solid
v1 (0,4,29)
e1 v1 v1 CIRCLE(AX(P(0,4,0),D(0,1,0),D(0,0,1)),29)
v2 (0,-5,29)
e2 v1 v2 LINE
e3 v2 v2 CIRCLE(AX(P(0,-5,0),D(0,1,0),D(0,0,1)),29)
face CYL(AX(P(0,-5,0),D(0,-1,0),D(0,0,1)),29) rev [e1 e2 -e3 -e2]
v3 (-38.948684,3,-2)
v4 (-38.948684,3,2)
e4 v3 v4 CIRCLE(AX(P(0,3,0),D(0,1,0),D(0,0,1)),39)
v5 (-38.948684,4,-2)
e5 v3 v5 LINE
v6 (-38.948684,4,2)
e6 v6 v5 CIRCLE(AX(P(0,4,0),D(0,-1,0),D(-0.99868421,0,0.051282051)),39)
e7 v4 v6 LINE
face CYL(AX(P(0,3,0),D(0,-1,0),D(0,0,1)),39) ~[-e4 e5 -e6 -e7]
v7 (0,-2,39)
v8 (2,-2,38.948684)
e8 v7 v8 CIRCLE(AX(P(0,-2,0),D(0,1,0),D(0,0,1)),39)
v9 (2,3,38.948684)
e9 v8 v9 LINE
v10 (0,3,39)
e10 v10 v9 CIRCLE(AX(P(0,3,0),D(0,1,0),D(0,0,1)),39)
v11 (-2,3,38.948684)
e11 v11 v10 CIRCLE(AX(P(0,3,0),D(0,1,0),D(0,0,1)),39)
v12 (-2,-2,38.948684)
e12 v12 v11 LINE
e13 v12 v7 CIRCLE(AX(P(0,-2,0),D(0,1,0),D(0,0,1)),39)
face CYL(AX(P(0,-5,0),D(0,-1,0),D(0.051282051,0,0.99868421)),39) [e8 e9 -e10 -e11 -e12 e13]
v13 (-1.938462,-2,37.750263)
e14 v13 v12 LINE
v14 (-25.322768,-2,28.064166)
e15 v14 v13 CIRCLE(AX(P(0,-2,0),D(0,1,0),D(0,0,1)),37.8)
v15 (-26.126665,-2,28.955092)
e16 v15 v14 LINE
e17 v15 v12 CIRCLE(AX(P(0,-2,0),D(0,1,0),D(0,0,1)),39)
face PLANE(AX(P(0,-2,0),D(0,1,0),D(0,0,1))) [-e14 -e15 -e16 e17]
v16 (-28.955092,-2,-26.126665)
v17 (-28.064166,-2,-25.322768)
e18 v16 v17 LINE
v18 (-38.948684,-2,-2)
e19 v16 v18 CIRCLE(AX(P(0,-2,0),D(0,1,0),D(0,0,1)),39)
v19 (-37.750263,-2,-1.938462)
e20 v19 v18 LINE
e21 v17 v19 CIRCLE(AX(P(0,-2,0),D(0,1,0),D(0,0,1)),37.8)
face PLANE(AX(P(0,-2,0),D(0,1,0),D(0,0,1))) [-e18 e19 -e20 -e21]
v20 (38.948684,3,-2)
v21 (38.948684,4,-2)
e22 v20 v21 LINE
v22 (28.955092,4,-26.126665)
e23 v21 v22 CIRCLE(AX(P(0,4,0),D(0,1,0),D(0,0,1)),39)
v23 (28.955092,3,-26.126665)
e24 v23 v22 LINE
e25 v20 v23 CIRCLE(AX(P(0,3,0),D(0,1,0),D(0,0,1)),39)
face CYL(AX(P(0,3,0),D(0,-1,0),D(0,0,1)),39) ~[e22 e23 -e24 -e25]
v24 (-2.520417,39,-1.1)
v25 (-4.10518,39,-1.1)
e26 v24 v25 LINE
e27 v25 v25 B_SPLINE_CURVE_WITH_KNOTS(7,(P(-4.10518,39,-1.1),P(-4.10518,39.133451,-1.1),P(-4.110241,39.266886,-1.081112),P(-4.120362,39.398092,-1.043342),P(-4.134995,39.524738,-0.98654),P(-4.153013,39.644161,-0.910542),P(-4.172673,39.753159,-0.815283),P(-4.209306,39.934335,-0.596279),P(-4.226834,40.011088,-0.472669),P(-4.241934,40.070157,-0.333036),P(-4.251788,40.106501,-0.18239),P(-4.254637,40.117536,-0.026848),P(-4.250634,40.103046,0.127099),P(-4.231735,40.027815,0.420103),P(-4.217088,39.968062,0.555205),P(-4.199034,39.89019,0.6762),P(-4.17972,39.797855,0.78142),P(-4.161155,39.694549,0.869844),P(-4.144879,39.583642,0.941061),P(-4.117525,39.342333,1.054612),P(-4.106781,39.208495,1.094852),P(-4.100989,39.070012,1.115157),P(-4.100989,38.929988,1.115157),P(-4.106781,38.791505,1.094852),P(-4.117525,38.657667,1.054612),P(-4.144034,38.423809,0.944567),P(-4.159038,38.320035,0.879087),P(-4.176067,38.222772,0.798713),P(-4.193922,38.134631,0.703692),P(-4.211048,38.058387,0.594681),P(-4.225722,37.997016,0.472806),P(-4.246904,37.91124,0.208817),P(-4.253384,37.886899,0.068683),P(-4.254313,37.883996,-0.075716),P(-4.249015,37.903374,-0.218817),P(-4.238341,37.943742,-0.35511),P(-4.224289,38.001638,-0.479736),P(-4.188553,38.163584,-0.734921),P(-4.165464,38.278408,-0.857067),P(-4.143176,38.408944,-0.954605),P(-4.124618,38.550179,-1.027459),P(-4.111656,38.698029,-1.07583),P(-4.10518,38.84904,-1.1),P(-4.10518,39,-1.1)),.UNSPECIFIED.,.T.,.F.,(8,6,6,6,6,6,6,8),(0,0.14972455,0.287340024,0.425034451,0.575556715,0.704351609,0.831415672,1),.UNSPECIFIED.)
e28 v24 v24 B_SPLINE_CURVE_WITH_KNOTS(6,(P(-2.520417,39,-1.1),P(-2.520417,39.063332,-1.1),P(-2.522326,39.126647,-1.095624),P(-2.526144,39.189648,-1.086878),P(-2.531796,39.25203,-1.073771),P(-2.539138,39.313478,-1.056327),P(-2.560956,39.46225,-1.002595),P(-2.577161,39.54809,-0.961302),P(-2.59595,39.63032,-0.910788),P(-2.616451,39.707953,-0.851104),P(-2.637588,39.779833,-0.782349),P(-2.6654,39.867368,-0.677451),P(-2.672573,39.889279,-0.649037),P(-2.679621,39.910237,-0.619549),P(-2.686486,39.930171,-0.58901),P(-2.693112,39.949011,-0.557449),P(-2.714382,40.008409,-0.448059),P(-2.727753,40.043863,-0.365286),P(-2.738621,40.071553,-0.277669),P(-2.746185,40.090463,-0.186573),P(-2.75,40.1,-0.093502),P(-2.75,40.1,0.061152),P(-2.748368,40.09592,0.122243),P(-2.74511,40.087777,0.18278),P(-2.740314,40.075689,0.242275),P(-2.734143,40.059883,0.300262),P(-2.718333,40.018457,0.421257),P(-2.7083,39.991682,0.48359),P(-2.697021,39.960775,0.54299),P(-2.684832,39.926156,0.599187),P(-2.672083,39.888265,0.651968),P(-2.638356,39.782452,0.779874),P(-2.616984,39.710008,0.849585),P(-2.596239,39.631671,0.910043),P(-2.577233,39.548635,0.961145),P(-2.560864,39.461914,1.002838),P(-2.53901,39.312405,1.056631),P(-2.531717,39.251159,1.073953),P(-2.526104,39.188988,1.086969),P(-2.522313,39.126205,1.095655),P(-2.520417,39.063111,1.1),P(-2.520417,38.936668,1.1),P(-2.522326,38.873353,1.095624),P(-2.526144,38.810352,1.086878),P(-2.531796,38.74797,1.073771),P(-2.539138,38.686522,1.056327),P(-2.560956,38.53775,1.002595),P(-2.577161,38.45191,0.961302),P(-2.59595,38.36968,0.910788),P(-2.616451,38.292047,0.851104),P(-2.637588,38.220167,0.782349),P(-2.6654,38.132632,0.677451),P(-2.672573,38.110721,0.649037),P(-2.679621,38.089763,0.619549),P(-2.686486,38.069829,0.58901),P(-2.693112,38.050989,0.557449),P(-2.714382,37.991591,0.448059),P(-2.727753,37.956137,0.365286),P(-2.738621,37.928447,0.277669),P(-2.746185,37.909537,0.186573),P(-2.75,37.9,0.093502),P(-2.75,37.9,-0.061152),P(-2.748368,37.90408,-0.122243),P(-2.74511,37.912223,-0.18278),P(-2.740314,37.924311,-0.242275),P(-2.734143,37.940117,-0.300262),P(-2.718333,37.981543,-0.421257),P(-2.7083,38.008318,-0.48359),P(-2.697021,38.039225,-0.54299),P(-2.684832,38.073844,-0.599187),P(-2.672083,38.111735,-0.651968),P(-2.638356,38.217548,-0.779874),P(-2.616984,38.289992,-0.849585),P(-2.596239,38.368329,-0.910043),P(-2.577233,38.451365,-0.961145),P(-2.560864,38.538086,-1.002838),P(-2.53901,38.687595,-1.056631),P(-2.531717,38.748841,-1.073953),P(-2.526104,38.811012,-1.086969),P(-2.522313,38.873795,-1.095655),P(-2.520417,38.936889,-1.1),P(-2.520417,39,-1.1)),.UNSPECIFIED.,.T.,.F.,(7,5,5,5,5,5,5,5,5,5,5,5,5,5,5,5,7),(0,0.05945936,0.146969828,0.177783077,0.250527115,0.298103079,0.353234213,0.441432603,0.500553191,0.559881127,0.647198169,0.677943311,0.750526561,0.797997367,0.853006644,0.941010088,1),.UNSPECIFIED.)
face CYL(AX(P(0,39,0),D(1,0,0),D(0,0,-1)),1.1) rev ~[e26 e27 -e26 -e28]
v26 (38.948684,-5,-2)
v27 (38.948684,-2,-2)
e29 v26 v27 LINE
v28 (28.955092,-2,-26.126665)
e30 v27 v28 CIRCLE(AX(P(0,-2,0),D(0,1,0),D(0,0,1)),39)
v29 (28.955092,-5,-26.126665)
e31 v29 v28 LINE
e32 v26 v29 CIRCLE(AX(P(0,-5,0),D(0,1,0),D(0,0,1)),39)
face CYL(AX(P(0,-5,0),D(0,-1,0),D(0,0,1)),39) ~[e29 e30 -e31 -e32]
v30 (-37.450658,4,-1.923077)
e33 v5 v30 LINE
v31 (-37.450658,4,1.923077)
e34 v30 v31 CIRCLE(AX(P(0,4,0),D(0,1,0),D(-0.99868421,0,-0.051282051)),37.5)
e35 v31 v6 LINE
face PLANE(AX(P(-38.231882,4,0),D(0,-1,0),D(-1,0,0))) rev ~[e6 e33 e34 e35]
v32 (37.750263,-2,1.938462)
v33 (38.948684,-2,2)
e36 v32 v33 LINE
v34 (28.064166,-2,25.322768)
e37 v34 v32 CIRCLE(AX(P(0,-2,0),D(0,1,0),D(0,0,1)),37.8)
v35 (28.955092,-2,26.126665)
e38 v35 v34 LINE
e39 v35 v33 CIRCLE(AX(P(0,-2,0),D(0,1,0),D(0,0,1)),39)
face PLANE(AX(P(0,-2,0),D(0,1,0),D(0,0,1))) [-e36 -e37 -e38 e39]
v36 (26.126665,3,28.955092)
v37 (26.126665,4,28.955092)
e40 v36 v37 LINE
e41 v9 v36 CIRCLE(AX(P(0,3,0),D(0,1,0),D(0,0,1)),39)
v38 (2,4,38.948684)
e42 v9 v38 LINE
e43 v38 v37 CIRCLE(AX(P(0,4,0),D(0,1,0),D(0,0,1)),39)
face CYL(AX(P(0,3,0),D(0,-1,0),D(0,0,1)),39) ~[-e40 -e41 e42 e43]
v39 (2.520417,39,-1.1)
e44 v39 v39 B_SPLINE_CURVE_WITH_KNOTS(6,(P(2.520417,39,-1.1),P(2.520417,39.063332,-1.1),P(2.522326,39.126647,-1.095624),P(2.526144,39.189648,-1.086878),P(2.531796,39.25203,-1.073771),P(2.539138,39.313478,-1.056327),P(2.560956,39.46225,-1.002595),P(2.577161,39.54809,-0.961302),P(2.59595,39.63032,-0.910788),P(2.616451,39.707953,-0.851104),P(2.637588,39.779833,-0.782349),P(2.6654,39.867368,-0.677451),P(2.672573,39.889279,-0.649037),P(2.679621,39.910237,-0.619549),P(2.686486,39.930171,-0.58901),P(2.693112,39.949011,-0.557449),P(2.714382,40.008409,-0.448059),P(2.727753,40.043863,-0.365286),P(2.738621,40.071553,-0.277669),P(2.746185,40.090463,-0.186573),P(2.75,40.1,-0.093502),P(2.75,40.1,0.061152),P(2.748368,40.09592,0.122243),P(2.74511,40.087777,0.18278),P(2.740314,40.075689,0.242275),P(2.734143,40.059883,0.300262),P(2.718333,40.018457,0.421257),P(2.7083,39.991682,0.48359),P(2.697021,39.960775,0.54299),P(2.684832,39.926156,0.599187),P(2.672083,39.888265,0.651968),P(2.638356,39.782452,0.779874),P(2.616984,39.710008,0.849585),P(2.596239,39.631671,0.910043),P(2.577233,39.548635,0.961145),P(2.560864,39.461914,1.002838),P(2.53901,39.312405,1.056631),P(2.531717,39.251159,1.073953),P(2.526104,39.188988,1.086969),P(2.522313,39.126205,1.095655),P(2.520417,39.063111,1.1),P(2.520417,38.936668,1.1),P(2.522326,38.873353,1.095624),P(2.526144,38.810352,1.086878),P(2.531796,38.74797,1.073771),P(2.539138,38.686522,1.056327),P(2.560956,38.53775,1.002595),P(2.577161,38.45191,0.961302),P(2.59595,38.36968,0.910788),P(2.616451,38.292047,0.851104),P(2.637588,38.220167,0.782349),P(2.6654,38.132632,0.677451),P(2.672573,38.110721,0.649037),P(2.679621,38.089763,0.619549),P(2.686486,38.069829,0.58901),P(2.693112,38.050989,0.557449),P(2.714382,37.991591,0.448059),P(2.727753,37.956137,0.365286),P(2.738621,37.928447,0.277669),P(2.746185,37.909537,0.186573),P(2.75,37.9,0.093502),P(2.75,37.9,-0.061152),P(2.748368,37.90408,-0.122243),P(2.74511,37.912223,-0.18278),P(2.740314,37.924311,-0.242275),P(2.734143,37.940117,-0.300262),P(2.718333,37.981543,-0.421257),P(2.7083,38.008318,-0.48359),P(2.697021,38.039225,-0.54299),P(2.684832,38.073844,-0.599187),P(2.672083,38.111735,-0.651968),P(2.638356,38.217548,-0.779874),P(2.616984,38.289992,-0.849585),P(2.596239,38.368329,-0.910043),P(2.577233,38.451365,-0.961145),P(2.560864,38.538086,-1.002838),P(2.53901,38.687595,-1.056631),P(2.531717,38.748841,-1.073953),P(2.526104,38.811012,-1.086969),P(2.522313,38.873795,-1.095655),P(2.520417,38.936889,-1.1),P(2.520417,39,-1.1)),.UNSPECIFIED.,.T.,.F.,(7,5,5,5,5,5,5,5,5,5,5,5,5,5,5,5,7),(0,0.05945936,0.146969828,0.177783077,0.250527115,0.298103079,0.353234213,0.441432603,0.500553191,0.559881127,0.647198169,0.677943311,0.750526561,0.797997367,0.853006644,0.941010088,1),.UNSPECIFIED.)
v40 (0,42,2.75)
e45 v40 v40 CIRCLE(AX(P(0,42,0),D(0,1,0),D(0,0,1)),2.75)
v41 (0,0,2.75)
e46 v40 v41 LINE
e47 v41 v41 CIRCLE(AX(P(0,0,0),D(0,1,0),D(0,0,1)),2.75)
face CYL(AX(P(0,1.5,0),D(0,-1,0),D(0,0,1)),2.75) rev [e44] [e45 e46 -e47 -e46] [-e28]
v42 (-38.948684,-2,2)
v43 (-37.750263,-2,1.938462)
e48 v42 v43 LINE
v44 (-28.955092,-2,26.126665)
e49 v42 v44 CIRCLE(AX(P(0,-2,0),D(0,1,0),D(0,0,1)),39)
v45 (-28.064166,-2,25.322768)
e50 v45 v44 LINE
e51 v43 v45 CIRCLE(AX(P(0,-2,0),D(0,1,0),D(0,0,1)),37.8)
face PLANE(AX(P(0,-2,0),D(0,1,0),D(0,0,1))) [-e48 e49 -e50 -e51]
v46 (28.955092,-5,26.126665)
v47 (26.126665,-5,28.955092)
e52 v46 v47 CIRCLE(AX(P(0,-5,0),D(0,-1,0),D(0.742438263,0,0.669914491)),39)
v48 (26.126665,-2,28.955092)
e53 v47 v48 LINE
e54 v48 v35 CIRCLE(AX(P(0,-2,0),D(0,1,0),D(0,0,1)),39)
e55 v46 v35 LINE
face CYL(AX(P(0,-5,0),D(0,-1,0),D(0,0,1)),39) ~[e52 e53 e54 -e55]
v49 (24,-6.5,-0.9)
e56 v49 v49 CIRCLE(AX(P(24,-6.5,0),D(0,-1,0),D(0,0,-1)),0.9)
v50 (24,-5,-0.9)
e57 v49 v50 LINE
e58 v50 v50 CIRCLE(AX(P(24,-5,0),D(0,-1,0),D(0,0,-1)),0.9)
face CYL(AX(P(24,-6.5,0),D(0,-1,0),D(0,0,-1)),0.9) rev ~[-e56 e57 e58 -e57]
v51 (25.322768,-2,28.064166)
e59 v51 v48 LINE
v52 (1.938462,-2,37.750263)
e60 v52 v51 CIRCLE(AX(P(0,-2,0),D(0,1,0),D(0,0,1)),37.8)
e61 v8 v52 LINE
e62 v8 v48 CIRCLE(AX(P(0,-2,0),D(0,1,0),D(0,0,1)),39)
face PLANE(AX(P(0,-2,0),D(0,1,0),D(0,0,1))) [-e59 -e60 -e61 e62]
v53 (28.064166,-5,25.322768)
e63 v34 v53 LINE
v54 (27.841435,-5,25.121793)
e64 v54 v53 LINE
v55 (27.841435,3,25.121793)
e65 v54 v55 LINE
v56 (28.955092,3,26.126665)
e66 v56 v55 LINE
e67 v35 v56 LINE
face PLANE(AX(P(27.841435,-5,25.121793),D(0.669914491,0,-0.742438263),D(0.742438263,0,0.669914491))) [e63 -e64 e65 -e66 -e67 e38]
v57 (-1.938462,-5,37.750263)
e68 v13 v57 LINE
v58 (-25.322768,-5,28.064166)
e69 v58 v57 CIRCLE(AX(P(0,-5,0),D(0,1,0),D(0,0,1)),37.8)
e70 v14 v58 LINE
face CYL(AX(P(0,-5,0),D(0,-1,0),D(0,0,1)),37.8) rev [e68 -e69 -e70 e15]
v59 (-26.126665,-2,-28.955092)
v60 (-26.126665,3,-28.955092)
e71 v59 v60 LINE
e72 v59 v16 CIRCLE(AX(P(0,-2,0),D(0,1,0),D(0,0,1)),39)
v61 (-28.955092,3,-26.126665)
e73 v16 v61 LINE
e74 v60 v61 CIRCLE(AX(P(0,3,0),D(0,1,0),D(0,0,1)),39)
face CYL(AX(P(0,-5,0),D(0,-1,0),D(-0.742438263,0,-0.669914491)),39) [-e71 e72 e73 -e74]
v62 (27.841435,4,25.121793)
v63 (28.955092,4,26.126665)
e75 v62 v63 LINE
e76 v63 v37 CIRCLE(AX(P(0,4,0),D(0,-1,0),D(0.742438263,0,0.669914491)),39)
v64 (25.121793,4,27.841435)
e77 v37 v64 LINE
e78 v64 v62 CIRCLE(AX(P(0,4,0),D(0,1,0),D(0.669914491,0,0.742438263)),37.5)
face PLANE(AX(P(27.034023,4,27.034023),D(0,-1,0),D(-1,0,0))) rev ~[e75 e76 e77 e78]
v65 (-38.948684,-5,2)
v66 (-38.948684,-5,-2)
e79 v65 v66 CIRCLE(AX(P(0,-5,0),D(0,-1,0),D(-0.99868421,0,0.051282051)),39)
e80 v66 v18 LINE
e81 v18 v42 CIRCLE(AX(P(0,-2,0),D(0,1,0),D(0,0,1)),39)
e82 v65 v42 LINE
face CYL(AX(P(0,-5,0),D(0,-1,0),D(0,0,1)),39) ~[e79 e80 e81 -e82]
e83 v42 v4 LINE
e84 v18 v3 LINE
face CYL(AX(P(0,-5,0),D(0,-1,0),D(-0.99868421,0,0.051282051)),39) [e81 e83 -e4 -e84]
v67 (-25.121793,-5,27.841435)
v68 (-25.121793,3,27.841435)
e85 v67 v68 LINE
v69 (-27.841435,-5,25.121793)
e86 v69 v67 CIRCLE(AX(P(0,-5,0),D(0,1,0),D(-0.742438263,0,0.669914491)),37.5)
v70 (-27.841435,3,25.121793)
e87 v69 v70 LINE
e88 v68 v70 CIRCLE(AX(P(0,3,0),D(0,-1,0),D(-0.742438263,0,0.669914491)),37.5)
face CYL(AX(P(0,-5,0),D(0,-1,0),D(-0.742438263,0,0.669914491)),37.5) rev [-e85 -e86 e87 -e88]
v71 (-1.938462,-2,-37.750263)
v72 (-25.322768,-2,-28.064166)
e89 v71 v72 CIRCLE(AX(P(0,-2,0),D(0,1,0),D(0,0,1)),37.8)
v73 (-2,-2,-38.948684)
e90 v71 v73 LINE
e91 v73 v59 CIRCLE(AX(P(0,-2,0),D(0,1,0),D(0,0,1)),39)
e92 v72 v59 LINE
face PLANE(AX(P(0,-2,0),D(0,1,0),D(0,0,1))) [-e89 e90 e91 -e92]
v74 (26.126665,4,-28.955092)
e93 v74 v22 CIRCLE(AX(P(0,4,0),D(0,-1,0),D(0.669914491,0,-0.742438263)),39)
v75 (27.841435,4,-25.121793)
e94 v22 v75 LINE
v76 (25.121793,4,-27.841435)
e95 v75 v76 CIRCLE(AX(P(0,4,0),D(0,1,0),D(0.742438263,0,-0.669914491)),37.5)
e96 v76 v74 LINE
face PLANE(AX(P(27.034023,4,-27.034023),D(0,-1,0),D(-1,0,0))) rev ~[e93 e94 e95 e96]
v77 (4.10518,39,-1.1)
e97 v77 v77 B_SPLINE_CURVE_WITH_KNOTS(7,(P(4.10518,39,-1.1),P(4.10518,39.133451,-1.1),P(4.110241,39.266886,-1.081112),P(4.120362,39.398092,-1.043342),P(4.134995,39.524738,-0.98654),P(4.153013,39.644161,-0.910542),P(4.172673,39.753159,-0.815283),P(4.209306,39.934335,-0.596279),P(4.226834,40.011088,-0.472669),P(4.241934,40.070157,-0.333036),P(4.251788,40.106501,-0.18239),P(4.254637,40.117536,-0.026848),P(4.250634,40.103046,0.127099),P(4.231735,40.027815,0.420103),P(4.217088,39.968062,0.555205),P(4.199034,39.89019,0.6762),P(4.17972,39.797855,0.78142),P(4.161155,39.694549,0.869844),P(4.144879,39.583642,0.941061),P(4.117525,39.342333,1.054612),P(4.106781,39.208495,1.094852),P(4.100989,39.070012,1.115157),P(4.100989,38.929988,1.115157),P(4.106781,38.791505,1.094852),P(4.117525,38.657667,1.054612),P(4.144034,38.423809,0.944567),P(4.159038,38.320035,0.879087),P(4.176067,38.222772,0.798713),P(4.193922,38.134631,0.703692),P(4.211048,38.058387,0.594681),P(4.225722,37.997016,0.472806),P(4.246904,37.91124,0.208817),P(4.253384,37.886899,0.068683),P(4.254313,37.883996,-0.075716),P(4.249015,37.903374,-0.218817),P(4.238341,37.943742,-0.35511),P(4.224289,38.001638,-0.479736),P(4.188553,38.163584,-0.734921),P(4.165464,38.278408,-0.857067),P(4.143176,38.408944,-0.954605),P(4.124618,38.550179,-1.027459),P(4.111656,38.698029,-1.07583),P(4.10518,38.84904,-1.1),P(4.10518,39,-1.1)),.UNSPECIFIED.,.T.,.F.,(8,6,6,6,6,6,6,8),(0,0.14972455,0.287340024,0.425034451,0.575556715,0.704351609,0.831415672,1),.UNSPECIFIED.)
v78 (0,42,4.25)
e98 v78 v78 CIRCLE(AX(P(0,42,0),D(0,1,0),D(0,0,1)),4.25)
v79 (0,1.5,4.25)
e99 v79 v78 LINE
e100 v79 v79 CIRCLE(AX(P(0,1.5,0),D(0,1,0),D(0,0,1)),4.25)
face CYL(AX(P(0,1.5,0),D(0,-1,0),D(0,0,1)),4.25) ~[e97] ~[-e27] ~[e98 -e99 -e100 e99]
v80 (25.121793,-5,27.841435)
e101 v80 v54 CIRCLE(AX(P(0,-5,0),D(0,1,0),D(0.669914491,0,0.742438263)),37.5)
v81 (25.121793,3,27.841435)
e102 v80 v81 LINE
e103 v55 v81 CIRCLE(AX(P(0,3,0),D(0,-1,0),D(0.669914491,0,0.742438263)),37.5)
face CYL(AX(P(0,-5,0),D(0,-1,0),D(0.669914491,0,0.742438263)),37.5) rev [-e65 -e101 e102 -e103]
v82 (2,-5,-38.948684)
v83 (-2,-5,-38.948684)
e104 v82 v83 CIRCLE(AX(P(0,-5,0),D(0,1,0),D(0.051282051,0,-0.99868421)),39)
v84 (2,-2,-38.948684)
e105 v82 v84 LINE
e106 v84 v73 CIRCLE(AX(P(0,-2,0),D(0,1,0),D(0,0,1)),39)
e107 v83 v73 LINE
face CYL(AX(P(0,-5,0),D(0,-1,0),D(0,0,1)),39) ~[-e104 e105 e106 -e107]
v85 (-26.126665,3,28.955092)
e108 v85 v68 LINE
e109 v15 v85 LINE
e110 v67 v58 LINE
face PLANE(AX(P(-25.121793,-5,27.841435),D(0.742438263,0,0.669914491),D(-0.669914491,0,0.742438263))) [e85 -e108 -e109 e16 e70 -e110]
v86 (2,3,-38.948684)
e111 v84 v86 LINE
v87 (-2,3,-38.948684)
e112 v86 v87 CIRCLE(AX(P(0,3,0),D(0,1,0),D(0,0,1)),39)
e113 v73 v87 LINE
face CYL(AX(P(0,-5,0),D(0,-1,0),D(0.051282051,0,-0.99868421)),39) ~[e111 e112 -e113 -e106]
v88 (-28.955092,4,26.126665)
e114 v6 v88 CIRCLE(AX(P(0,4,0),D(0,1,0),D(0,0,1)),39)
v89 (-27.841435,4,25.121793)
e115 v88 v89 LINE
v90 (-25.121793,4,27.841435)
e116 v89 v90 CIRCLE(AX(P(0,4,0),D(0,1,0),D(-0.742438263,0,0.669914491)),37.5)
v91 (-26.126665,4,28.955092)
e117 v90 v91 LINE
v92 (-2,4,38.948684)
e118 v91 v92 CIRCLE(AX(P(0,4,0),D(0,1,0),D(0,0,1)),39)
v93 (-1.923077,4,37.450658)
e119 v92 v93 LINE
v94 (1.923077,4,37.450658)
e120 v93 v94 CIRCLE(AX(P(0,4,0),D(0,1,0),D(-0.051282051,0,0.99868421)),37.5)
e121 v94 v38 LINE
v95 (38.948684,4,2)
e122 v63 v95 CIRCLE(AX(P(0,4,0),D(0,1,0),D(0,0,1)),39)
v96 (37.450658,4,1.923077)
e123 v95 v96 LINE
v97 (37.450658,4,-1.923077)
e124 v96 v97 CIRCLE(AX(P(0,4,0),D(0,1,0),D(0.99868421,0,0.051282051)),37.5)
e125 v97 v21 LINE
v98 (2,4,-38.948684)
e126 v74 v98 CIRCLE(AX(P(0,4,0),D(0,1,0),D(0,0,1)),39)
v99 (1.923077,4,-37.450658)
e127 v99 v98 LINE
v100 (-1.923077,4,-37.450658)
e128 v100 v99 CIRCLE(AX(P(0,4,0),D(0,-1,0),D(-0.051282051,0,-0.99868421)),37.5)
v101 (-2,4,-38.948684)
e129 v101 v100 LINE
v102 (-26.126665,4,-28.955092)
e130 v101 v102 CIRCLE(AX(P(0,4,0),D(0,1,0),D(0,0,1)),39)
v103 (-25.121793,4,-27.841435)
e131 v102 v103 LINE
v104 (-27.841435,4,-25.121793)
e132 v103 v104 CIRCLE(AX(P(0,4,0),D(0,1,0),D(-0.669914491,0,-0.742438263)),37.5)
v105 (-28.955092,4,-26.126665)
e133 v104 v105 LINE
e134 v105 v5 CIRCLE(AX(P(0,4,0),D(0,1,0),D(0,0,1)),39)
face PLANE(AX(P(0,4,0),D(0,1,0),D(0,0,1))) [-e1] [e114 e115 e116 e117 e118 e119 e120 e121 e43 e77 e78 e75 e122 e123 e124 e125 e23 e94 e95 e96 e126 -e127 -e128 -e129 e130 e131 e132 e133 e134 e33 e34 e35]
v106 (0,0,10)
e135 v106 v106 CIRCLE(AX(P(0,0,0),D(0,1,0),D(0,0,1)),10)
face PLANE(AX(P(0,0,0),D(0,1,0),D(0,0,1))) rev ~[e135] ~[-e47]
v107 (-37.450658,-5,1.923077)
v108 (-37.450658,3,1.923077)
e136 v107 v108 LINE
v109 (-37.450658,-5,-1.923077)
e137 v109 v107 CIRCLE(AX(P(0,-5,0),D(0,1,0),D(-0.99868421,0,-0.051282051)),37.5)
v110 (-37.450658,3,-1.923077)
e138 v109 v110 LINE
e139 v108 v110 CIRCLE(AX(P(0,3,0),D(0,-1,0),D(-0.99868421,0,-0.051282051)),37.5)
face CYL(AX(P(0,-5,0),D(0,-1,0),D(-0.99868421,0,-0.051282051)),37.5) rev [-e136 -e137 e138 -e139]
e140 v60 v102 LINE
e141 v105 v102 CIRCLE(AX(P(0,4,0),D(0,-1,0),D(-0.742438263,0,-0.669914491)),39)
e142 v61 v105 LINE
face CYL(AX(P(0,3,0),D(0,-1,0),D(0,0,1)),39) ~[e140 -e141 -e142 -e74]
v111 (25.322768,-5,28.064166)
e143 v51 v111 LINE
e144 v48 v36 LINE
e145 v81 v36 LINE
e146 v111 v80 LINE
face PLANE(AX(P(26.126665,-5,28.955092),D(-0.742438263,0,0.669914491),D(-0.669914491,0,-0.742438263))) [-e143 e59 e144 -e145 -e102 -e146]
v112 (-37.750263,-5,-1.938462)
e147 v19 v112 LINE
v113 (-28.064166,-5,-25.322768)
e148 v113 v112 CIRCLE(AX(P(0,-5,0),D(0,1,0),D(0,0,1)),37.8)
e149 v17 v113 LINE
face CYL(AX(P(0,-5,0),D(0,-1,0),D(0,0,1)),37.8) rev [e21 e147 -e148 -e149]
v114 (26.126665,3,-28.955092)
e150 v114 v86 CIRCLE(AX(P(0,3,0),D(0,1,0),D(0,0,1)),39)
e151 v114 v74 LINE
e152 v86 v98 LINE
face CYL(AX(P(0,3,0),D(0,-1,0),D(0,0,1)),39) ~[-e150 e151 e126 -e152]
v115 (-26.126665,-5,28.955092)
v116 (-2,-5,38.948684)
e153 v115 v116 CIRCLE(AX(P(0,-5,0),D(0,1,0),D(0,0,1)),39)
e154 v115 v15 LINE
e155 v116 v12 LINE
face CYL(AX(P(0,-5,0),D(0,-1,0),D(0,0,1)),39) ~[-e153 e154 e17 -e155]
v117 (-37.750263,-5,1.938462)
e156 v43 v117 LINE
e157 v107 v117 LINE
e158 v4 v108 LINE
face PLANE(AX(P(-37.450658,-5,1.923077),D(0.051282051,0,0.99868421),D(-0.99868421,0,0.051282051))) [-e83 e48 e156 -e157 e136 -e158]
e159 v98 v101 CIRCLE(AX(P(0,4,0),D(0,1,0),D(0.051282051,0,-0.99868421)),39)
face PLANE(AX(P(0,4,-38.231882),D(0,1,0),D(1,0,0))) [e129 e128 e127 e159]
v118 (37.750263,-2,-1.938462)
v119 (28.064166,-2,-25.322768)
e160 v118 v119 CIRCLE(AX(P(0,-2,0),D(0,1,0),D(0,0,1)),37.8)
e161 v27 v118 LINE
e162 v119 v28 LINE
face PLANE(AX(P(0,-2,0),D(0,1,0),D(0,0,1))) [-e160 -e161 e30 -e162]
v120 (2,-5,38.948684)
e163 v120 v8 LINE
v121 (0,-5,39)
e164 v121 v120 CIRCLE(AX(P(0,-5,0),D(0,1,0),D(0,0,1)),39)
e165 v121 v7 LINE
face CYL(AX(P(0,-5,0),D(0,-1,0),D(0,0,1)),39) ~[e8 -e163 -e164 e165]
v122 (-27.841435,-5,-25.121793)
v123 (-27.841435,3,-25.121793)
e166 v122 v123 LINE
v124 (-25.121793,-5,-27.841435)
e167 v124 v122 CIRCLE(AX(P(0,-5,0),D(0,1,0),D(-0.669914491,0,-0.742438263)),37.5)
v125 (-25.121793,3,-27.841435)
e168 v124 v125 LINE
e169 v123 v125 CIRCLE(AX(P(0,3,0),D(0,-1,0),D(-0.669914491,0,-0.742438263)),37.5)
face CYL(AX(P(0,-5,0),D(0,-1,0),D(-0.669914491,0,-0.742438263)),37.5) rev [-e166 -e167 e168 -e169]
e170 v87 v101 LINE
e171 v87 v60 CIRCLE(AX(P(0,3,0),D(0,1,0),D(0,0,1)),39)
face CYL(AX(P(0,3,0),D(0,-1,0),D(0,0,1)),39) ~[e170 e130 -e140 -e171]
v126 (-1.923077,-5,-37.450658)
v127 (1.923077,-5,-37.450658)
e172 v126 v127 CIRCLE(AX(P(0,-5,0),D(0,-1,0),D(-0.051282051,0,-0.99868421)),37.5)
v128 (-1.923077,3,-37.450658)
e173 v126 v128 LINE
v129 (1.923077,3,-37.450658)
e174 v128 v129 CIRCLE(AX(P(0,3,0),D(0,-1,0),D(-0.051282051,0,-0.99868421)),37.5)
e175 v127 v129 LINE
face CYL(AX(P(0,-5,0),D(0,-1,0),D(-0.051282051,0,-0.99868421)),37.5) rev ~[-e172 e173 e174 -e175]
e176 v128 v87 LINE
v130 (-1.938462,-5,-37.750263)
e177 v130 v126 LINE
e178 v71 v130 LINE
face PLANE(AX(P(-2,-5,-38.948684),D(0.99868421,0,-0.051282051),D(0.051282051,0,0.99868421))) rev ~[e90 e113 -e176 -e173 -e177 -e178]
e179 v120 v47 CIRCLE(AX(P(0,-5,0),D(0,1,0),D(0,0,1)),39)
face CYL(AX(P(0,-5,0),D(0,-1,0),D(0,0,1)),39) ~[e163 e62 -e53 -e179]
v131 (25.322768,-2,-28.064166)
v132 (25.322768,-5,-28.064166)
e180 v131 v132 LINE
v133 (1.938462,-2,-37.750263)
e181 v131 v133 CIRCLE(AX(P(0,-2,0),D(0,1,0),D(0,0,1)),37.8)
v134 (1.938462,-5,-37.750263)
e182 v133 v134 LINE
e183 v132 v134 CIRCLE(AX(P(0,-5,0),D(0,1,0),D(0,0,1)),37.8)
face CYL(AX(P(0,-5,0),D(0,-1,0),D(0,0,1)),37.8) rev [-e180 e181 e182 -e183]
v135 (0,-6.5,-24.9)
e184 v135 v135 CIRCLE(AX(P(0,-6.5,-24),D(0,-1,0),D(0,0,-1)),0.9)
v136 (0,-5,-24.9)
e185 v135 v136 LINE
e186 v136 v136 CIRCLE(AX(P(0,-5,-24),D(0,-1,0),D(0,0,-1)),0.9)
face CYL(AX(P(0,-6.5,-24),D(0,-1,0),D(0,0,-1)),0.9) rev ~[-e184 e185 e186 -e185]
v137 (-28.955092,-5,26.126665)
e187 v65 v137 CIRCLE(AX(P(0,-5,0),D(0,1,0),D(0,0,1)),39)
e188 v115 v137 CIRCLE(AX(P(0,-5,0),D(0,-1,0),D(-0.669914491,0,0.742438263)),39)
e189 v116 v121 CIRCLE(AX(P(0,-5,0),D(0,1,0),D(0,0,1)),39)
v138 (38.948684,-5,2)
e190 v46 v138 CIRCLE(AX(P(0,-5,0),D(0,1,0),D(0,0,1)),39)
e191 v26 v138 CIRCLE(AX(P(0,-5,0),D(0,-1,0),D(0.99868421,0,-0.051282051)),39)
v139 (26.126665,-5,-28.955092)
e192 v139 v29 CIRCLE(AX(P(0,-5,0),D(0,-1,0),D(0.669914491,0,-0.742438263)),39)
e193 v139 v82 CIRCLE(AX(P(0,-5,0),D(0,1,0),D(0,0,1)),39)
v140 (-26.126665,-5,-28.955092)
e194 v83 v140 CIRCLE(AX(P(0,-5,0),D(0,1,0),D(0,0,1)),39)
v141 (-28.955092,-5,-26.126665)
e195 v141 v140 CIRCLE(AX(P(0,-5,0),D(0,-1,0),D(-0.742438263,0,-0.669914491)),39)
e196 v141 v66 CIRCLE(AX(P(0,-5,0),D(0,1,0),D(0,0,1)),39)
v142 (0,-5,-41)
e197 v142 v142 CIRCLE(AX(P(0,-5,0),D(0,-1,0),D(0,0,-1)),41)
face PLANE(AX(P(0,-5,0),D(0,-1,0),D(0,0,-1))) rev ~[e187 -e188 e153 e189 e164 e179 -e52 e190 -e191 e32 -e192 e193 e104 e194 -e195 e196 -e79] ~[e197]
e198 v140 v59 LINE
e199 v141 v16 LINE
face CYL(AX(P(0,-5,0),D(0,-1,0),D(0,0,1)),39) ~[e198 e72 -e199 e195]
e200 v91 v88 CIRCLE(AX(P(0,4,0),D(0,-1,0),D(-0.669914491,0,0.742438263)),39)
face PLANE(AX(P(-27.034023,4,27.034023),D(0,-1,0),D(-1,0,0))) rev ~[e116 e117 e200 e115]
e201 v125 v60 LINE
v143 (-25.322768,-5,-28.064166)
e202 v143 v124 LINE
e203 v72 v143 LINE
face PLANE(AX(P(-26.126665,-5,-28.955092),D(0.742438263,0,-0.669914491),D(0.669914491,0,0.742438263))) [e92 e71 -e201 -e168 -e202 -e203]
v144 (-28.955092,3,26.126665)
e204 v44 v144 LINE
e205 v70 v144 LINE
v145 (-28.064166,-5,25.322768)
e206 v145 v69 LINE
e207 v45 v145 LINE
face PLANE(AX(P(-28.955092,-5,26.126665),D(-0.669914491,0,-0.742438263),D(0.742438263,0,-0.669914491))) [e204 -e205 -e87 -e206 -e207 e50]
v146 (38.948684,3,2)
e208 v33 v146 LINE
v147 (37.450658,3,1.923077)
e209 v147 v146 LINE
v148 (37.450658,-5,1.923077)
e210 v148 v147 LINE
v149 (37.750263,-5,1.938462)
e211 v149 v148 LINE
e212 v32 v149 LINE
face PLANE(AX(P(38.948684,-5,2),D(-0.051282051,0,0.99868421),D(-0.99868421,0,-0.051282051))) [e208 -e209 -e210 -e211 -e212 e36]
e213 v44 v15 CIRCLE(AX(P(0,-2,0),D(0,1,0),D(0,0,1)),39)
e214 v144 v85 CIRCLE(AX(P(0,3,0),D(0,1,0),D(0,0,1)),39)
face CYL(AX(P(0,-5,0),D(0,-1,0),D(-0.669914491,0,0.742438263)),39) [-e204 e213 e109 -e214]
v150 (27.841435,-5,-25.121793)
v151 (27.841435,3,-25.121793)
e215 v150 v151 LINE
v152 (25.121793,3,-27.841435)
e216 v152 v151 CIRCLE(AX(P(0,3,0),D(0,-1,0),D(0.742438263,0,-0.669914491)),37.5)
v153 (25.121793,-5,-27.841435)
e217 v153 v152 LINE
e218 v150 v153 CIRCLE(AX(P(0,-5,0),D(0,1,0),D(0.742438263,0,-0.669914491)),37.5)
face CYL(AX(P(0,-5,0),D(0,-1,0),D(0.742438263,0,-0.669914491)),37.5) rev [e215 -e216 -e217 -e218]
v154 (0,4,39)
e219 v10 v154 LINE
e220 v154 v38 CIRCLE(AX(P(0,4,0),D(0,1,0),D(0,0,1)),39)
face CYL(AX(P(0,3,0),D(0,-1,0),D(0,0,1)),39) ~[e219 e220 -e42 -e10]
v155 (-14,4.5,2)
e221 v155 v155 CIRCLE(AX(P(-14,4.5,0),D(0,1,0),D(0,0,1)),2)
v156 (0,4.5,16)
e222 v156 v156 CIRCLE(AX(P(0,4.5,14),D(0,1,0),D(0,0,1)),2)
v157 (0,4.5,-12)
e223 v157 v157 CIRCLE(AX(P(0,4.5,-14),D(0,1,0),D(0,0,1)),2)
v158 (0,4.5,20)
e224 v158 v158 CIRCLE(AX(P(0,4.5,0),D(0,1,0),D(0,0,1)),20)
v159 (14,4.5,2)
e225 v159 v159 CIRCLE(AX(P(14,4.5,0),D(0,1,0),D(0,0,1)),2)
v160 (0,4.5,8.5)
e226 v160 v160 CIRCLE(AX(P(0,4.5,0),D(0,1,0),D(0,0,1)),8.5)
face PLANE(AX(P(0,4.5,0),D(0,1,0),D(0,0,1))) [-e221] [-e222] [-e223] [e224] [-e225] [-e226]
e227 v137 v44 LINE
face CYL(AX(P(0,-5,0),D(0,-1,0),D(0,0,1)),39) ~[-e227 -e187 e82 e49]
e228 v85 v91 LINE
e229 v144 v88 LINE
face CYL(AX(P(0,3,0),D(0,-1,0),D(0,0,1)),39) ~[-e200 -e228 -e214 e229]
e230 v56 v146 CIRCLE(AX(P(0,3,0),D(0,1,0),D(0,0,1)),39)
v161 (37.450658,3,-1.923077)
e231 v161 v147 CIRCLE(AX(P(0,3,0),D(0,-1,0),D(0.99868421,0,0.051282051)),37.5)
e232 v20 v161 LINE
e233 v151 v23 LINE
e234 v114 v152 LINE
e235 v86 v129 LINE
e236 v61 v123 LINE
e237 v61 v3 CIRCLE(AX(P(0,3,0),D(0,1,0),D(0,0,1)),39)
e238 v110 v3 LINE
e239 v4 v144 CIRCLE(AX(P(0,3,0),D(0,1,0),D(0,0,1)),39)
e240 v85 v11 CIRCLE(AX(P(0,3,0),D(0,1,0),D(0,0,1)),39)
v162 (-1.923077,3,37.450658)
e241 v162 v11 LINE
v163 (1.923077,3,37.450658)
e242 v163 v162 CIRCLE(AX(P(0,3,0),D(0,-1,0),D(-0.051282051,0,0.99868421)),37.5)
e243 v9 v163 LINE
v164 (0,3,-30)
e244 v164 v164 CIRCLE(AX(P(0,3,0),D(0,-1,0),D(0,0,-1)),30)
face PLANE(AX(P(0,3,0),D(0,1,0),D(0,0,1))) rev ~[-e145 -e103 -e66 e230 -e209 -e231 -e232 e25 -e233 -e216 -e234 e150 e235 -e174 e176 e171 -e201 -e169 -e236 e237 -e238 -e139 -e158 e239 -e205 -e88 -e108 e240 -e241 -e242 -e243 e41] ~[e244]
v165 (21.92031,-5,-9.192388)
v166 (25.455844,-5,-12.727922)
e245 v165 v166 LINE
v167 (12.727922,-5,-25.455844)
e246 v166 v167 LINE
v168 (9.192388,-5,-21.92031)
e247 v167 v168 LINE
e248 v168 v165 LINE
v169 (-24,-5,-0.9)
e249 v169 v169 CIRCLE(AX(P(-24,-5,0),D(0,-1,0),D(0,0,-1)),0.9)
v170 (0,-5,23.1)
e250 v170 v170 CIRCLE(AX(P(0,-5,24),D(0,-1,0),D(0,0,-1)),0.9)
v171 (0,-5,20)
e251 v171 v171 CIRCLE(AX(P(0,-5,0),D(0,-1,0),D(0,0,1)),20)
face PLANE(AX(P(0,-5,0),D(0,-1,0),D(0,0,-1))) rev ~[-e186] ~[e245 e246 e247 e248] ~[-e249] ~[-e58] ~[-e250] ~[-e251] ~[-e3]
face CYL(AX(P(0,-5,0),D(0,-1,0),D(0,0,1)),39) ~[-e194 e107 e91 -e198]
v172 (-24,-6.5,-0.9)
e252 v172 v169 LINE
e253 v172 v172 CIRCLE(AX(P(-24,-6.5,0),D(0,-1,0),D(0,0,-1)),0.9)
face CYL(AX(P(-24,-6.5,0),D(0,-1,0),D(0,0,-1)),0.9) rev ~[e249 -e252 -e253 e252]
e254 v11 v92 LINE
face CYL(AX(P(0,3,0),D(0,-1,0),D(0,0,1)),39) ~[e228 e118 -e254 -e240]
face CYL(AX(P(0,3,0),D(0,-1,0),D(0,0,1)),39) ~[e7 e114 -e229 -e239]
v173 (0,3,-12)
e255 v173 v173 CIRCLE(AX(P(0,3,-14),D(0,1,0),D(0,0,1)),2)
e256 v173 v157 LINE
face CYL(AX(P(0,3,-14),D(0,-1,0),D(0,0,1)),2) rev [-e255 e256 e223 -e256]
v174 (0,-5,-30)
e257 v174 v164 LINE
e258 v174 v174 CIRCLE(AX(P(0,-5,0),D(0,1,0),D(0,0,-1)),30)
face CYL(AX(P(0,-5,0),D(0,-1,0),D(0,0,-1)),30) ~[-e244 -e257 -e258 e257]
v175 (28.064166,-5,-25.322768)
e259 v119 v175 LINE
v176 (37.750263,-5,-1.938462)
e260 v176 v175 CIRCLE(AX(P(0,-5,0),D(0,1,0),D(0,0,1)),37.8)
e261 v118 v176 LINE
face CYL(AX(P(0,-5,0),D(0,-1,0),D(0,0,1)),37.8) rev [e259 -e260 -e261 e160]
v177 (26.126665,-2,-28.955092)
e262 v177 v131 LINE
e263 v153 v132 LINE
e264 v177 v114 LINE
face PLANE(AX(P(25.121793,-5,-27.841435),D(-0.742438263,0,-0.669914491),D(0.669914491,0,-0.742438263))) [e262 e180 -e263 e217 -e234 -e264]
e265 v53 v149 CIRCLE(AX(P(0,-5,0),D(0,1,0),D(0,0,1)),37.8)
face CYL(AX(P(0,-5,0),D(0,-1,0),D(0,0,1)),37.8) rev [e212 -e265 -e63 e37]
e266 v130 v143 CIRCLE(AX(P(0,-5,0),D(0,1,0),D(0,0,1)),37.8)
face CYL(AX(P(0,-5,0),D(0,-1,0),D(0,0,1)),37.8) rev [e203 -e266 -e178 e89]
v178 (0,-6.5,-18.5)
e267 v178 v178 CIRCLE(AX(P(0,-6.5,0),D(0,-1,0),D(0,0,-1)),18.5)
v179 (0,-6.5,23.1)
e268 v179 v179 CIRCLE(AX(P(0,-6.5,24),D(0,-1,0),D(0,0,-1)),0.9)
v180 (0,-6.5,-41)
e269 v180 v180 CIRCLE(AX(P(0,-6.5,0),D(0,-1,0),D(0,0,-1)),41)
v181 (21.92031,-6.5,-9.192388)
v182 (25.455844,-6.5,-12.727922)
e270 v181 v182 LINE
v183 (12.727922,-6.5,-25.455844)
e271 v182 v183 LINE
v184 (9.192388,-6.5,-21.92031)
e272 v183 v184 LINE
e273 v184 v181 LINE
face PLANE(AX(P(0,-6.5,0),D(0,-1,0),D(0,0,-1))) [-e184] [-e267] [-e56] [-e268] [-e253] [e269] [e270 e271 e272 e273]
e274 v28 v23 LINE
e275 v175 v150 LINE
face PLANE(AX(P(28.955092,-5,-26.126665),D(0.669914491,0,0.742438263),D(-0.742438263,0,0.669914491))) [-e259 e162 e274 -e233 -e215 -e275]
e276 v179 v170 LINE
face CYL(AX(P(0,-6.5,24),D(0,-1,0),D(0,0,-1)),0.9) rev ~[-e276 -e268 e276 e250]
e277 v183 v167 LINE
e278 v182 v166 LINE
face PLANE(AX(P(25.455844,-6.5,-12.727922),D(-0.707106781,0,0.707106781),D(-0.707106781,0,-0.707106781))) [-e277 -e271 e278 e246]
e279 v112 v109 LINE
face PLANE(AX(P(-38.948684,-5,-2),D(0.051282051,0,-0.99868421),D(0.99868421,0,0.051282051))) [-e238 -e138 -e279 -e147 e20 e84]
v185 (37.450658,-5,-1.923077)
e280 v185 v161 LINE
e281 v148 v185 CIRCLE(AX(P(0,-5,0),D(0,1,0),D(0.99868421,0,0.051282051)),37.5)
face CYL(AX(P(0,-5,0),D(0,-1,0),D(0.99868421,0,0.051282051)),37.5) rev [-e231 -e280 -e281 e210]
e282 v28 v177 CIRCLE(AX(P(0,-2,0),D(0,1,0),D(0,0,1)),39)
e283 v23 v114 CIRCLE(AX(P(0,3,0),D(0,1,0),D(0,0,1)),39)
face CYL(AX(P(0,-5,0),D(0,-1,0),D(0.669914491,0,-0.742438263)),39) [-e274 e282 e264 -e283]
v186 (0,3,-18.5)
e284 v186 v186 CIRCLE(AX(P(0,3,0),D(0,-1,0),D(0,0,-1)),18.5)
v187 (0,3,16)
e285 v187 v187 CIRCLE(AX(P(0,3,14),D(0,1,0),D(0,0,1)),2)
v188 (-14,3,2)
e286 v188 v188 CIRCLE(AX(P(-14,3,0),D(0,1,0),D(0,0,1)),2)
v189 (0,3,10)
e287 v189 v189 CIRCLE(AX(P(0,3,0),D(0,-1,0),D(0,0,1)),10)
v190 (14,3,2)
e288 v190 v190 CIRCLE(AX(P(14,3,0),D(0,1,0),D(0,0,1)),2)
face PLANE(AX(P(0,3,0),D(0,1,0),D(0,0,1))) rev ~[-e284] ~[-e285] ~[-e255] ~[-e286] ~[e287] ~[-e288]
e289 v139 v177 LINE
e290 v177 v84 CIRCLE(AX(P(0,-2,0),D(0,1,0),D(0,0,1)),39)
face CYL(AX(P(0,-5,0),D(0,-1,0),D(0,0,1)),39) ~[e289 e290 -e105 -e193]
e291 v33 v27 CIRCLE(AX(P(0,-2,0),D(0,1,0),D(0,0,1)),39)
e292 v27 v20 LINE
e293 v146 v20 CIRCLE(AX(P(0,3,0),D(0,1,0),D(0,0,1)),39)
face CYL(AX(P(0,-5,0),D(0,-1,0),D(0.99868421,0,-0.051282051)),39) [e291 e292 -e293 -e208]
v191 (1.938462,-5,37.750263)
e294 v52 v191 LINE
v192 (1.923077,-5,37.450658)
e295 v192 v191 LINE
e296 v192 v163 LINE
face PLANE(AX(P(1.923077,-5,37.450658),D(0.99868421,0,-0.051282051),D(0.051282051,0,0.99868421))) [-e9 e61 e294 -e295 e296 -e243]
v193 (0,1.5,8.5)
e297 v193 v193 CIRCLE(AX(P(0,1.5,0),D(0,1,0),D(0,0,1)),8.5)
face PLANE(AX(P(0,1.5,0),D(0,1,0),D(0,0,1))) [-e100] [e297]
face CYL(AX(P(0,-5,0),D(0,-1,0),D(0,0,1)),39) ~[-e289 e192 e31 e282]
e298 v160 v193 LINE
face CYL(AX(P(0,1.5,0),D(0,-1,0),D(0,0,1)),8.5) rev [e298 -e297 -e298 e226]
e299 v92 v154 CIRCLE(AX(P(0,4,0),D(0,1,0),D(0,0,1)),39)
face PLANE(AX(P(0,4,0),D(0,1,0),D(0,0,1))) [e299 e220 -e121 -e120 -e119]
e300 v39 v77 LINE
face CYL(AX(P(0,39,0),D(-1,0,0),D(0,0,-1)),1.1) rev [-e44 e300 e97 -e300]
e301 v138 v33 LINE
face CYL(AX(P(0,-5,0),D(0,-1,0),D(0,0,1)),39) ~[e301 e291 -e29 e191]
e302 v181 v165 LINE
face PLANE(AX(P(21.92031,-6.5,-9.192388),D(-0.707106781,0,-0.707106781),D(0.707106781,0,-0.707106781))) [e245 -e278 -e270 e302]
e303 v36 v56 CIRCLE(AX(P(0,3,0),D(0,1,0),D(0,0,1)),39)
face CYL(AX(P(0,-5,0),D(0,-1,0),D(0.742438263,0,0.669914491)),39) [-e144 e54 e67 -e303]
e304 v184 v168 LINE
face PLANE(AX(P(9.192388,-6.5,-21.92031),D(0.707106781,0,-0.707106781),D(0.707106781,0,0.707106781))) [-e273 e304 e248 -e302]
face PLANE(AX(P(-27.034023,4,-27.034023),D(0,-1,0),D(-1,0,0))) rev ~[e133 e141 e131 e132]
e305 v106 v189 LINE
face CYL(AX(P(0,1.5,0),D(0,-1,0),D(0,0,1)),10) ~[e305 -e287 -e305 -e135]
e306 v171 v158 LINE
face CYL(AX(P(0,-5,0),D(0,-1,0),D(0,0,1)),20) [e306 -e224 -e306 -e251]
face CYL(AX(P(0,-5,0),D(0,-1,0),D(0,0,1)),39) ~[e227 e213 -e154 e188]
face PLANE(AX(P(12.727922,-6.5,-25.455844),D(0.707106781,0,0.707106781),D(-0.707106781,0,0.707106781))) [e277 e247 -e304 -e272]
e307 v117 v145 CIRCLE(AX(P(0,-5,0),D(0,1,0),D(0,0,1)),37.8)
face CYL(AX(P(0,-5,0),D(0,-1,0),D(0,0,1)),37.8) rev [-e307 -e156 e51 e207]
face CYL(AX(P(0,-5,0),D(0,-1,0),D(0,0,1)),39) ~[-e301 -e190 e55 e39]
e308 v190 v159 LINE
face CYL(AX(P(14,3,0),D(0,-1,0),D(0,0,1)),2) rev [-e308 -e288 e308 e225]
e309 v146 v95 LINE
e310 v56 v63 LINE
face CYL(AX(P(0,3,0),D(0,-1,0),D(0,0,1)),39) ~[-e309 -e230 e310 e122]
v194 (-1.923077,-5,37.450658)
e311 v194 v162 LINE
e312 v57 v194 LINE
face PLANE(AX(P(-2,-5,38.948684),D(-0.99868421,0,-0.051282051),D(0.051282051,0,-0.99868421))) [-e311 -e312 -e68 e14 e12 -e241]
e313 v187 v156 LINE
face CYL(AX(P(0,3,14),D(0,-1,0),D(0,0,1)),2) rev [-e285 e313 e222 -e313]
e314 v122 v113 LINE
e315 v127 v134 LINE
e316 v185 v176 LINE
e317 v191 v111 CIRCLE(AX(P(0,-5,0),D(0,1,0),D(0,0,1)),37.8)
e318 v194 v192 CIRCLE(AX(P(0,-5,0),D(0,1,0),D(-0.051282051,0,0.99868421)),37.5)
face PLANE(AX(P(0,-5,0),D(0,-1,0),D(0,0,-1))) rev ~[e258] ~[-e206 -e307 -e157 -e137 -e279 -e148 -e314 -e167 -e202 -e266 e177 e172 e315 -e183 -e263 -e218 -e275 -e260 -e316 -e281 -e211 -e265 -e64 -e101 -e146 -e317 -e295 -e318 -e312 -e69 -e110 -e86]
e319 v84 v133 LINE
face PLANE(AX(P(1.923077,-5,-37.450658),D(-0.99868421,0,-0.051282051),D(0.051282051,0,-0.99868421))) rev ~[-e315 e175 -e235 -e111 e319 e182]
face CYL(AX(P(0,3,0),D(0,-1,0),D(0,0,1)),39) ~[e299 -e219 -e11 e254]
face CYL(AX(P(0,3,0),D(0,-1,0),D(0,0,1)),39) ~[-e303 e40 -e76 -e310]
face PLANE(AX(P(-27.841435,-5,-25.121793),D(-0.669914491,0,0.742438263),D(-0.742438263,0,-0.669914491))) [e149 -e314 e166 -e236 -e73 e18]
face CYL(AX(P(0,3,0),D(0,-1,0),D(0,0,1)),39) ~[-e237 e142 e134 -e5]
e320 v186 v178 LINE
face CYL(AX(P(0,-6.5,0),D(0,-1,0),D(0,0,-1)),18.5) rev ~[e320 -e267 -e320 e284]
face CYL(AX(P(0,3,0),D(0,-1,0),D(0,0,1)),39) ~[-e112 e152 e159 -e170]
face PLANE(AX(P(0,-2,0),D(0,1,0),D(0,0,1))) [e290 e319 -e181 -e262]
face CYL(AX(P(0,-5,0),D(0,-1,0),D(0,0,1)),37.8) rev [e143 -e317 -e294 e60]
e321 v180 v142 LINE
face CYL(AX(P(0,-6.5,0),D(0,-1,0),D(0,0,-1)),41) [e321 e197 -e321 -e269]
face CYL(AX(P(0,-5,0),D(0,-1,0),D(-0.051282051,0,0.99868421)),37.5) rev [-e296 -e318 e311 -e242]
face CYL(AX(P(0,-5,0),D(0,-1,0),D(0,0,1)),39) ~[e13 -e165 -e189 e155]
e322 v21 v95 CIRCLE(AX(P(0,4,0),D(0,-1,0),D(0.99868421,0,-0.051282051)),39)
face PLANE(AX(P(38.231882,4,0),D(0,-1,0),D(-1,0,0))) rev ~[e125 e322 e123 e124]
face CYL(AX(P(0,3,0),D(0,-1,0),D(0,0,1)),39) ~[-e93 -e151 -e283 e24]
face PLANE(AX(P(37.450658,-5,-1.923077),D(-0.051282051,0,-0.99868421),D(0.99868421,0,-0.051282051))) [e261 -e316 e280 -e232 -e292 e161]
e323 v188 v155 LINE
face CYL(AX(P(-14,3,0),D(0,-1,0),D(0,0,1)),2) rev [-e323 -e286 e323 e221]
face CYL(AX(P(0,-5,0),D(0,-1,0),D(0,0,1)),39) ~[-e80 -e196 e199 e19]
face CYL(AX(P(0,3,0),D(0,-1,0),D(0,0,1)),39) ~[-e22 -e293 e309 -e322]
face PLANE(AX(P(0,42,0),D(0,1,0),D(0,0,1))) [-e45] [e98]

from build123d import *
from build123d.topology import SkipClean

# Parameters (mm, degrees)
SKETCH_1_R                      = 10
SKETCH_1_R_2                    = 2.75
EXTRUDE_1_DEPTH                 = 1.5
SKETCH_2_R                      = 10
SKETCH_2_R_2                    = 8.5
EXTRUDE_2_DEPTH                 = 3
SKETCH_3_R                      = 4.25
SKETCH_3_R_2                    = 2.75
EXTRUDE_3_DEPTH                 = 40.5
EXTRUDE_START                   = -1.5
SKETCH_4_R                      = 20
SKETCH_4_R_2                    = 8.5
SKETCH_4_R_3                    = 2
SKETCH_4_R_4                    = 1.9999999999999996
SKETCH_4_R_5                    = 2.0000000000000013
EXTRUDE_4_DEPTH                 = 1.5
EXTRUDE_START_2                 = 8
SKETCH_5_R                      = 20
SKETCH_5_R_2                    = 18.5
EXTRUDE_5_DEPTH                 = 8
EXTRUDE_START_3                 = 1.5
SKETCH_8_R                      = 41
SKETCH_8_R_2                    = 18.5
SKETCH_8_R_3                    = 0.9000000000000004
SKETCH_8_R_4                    = 0.9000000000000011
EXTRUDE_6_DEPTH                 = 1.5
SKETCH_9_R                      = 30.000000000000004
SKETCH_9_R_2                    = 29
EXTRUDE_7_DEPTH                 = 9
EXTRUDE_START_4                 = -1
SKETCH_10_R                     = 39
SKETCH_10_R_2                   = 29
EXTRUDE_8_DEPTH                 = 1
SKETCH_12_R                     = 39
SKETCH_12_R_2                   = 37.8
EXTRUDE_9_DEPTH                 = 3
EXTRUDE_START_5                 = -9
EXTRUDE_10_DEPTH                = 9
CUT_EXTRUDE_1_REACH             = 73.596
SKETCH_14_R                     = 1.0999999999999972
CUT_EXTRUDE_1_DIRECTION_2_REACH = 73.596


with BuildPart() as part:
    # 草图1 → 凸台-拉伸1 (new body)
    with BuildSketch(Plane(origin=(0, 0, 0), x_dir=(1, 0, 0), z_dir=(0, 1, 0))):
        with Locations(Location((0, 0, 0), (0, 0, 270))):
            Circle(SKETCH_1_R)
        with Locations(Location((0, 0, 0), (0, 0, 270))):
            Circle(SKETCH_1_R_2, mode=Mode.SUBTRACT)
    extrude(amount=EXTRUDE_1_DEPTH)

    # 草图2 → 凸台-拉伸2 (add)
    with BuildSketch(Plane(origin=(0, 1.5, 0), x_dir=(1, 0, 0), z_dir=(0, 1, 0))):
        with Locations(Location((0, 0, 0), (0, 0, 270))):
            Circle(SKETCH_2_R)
        with Locations(Location((0, 0, 0), (0, 0, 270))):
            Circle(SKETCH_2_R_2, mode=Mode.SUBTRACT)
    extrude(amount=EXTRUDE_2_DEPTH)

    # 草图3 → 凸台-拉伸3 (add)
    with BuildSketch(Plane(origin=(0, 1.5, 0), x_dir=(1, 0, 0), z_dir=(0, 1, 0))):
        with Locations(Location((0, 0, 0), (0, 0, 270))):
            Circle(SKETCH_3_R)
        with Locations(Location((0, 0, 0), (0, 0, 270))):
            Circle(SKETCH_3_R_2, mode=Mode.SUBTRACT)
    extrude(amount=EXTRUDE_3_DEPTH)

    # 草图4 → 凸台-拉伸4 (add)
    with BuildSketch(Plane(origin=(0, 4.500000000000001, 0), x_dir=(1, 0, 0), z_dir=(0, 1, 0)).offset(EXTRUDE_START)):
        with Locations(Location((0, 0, 0), (0, 0, 270))):
            Circle(SKETCH_4_R)
        with Locations(Location((0, 0, 0), (0, 0, 270))):
            Circle(SKETCH_4_R_2, mode=Mode.SUBTRACT)
        with Locations(Location((0, -14, 0), (0, 0, 270))):
            Circle(SKETCH_4_R_3, mode=Mode.SUBTRACT)
        with Locations(Location((-14, 0, 0), (0, 0, 270))):
            Circle(SKETCH_4_R_4, mode=Mode.SUBTRACT)
        with Locations(Location((14, 0, 0), (0, 0, 270))):
            Circle(SKETCH_4_R_5, mode=Mode.SUBTRACT)
        with Locations(Location((0, 14, 0), (0, 0, 270))):
            Circle(SKETCH_4_R_3, mode=Mode.SUBTRACT)
    extrude(amount=EXTRUDE_4_DEPTH)

    # 草图5 → 凸台-拉伸5 (add)
    with BuildSketch(Plane.XZ.offset(-3.0000000000000004).offset(EXTRUDE_START_2)):
        with Locations(Location((0, 0, 0), (0, 0, 90))):
            Circle(SKETCH_5_R)
        with Locations(Location((0, 0, 0), (0, 0, 270))):
            Circle(SKETCH_5_R_2, mode=Mode.SUBTRACT)
    extrude(amount=-EXTRUDE_5_DEPTH)

    # 草图8 → 凸台-拉伸6 (add)
    with BuildSketch(Plane.XZ.offset(4.999999999999999).offset(EXTRUDE_START_3)):
        with Locations(Location((0, 0, 0), (0, 0, 270))):
            Circle(SKETCH_8_R)
        with Locations(Location((0, 0, 0), (0, 0, 270))):
            Circle(SKETCH_8_R_2, mode=Mode.SUBTRACT)
        with Locations(Location((24, 0, 0), (0, 0, 270))):
            Circle(SKETCH_8_R_3, mode=Mode.SUBTRACT)
        with Locations(Location((-24, 0, 0), (0, 0, 270))):
            Circle(SKETCH_8_R_3, mode=Mode.SUBTRACT)
        with Locations(Location((0, -24, 0), (0, 0, 270))):
            Circle(SKETCH_8_R_4, mode=Mode.SUBTRACT)
        with Locations(Location((0, 24, 0), (0, 0, 270))):
            Circle(SKETCH_8_R_4, mode=Mode.SUBTRACT)
        Polygon((9.192388155425043, -21.92031021678299), (21.92031021678307, -9.192388155425377), (25.455844122715792, -12.727922061358134), (12.727922061357729, -25.455844122715785), align=None, mode=Mode.SUBTRACT)
    extrude(amount=-EXTRUDE_6_DEPTH)

    # 草图9 → 凸台-拉伸7 (add)
    with BuildSketch(Plane(origin=(0, -4.999999999999999, 0), x_dir=(1, 0, 0), z_dir=(0, 1, 0))):
        with Locations(Location((0, 0, 0), (0, 0, 90))):
            Circle(SKETCH_9_R)
        with Locations(Location((0, 0, 0), (0, 0, 270))):
            Circle(SKETCH_9_R_2, mode=Mode.SUBTRACT)
    extrude(amount=EXTRUDE_7_DEPTH)

    # 草图10 → 凸台-拉伸8 (add)
    with BuildSketch(Plane(origin=(0, 4, 0), x_dir=(1, 0, 0), z_dir=(0, 1, 0)).offset(EXTRUDE_START_4)):
        with Locations(Location((0, 0, 0), (0, 0, 270))):
            Circle(SKETCH_10_R)
        with Locations(Location((0, 0, 0), (0, 0, 270))):
            Circle(SKETCH_10_R_2, mode=Mode.SUBTRACT)
    extrude(amount=EXTRUDE_8_DEPTH)

    # 草图12 → 凸台-拉伸9 (add)
    with BuildSketch(Plane(origin=(0, -4.999999999999999, 0), x_dir=(1, 0, 0), z_dir=(0, 1, 0))):
        with Locations(Location((0, 0, 0), (0, 0, 270))):
            Circle(SKETCH_12_R)
        with Locations(Location((0, 0, 0), (0, 0, 270))):
            Circle(SKETCH_12_R_2, mode=Mode.SUBTRACT)
    extrude(amount=EXTRUDE_9_DEPTH)

    # 草图13 → 凸台-拉伸10 (add)
    with SkipClean():  # the faces are left unmerged after this step: merging them gives an invalid solid
        with BuildSketch(Plane(origin=(0, 4, 0), x_dir=(1, 0, 0), z_dir=(0, 1, 0)).offset(EXTRUDE_START_5)):
            with BuildLine():
                Line((1.923076923076923, 37.45065787336625), (2, 38.948684188300895))
                ThreePointArc((2, 38.948684188300895), (2.39e-15, 39), (-2, 38.948684188300895))
                Line((-2, 38.948684188300895), (-1.923076923076923, 37.45065787336625))
                ThreePointArc((-1.923076923076923, 37.45065787336625), (2.3e-15, 37.5), (1.923076923076923, 37.45065787336625))
            make_face()
            with BuildLine():
                Line((25.12179340910359, 27.8414348752057), (26.12666514546773, 28.955092270213918))
                ThreePointArc((26.12666514546773, 28.955092270213918), (27.577164466275356, 27.577164466275352), (28.955092270213918, 26.12666514546773))
                Line((28.955092270213918, 26.12666514546773), (27.841434875205692, 25.12179340910359))
                ThreePointArc((27.841434875205692, 25.12179340910359), (26.516504294495533, 26.51650429449554), (25.12179340910359, 27.8414348752057))
            make_face()
            with BuildLine():
                Line((37.45065787336625, 1.9230769230769253), (38.948684188300895, 2.0000000000000027))
                ThreePointArc((38.948684188300895, 2.0000000000000027), (39, 2.71e-15), (38.948684188300895, -1.9999999999999973))
                Line((38.948684188300895, -1.9999999999999973), (37.45065787336625, -1.923076923076921))
                ThreePointArc((37.45065787336625, -1.923076923076921), (37.5, 2.08e-15), (37.45065787336625, 1.9230769230769253))
            make_face()
            with BuildLine():
                Line((27.8414348752057, -25.12179340910359), (28.955092270213918, -26.126665145467726))
                ThreePointArc((28.955092270213918, -26.126665145467726), (27.577164466275356, -27.577164466275352), (26.12666514546773, -28.955092270213914))
                Line((26.12666514546773, -28.955092270213914), (25.12179340910359, -27.841434875205692))
                ThreePointArc((25.12179340910359, -27.841434875205692), (26.51650429449554, -26.516504294495533), (27.8414348752057, -25.12179340910359))
            make_face()
            with BuildLine():
                Line((1.9230769230769276, -37.45065787336625), (2.0000000000000044, -38.948684188300895))
                ThreePointArc((2.0000000000000044, -38.948684188300895), (2.39e-15, -39), (-1.9999999999999958, -38.948684188300895))
                Line((-1.9999999999999958, -38.948684188300895), (-1.9230769230769182, -37.45065787336625))
                ThreePointArc((-1.9230769230769182, -37.45065787336625), (2.3e-15, -37.5), (1.9230769230769276, -37.45065787336625))
            make_face()
            with BuildLine():
                Line((-25.12179340910359, -27.841434875205703), (-26.126665145467726, -28.95509227021392))
                ThreePointArc((-26.126665145467726, -28.95509227021392), (-27.577164466275352, -27.577164466275356), (-28.955092270213914, -26.126665145467733))
                Line((-28.955092270213914, -26.126665145467733), (-27.841434875205692, -25.121793409103592))
                ThreePointArc((-27.841434875205692, -25.121793409103592), (-26.516504294495533, -26.51650429449554), (-25.12179340910359, -27.841434875205703))
            make_face()
            with BuildLine():
                Line((-37.45065787336625, -1.9230769230769298), (-38.948684188300895, -2.000000000000007))
                ThreePointArc((-38.948684188300895, -2.000000000000007), (-39, -1.254e-14), (-38.948684188300895, 1.9999999999999931))
                Line((-38.948684188300895, 1.9999999999999931), (-37.45065787336625, 1.923076923076916))
                ThreePointArc((-37.45065787336625, 1.923076923076916), (-37.5, -1.206e-14), (-37.45065787336625, -1.9230769230769298))
            make_face()
            with BuildLine():
                Line((-27.841434875205703, 25.12179340910358), (-28.95509227021392, 26.126665145467722))
                ThreePointArc((-28.95509227021392, 26.126665145467722), (-27.577164466275352, 27.577164466275356), (-26.126665145467733, 28.95509227021391))
                Line((-26.126665145467733, 28.95509227021391), (-25.121793409103592, 27.84143487520569))
                ThreePointArc((-25.121793409103592, 27.84143487520569), (-26.516504294495547, 26.516504294495526), (-27.841434875205703, 25.12179340910358))
            make_face()
        extrude(amount=EXTRUDE_10_DEPTH)

    # 草图14 → 切除-拉伸1 (cut, up to next)
    with BuildSketch(Plane(origin=(0, 0, 0), x_dir=(0, 0, -1), z_dir=(1, 0, 0)), mode=Mode.PRIVATE) as cut_extrude_1_sk1:
        with Locations((0, 39)):
            Circle(SKETCH_14_R)
    cut_extrude_1_tool1 = extrude(cut_extrude_1_sk1.sketch, amount=-CUT_EXTRUDE_1_REACH, mode=Mode.PRIVATE) & part.part
    add(cut_extrude_1_tool1.solids().sort_by_distance((0, 39, 0))[0], mode=Mode.SUBTRACT)

    # 草图14 → 切除-拉伸1 direction 2 (cut, up to next)
    with BuildSketch(Plane(origin=(0, 0, 0), x_dir=(0, 0, -1), z_dir=(1, 0, 0)), mode=Mode.PRIVATE) as cut_extrude_1_direction_2_sk1:
        with Locations((0, 39)):
            Circle(SKETCH_14_R)
    cut_extrude_1_direction_2_tool1 = extrude(cut_extrude_1_direction_2_sk1.sketch, amount=CUT_EXTRUDE_1_DIRECTION_2_REACH, mode=Mode.PRIVATE) & part.part
    add(cut_extrude_1_direction_2_tool1.solids().sort_by_distance((0, 39, 0))[0], mode=Mode.SUBTRACT)


solid = part.part
